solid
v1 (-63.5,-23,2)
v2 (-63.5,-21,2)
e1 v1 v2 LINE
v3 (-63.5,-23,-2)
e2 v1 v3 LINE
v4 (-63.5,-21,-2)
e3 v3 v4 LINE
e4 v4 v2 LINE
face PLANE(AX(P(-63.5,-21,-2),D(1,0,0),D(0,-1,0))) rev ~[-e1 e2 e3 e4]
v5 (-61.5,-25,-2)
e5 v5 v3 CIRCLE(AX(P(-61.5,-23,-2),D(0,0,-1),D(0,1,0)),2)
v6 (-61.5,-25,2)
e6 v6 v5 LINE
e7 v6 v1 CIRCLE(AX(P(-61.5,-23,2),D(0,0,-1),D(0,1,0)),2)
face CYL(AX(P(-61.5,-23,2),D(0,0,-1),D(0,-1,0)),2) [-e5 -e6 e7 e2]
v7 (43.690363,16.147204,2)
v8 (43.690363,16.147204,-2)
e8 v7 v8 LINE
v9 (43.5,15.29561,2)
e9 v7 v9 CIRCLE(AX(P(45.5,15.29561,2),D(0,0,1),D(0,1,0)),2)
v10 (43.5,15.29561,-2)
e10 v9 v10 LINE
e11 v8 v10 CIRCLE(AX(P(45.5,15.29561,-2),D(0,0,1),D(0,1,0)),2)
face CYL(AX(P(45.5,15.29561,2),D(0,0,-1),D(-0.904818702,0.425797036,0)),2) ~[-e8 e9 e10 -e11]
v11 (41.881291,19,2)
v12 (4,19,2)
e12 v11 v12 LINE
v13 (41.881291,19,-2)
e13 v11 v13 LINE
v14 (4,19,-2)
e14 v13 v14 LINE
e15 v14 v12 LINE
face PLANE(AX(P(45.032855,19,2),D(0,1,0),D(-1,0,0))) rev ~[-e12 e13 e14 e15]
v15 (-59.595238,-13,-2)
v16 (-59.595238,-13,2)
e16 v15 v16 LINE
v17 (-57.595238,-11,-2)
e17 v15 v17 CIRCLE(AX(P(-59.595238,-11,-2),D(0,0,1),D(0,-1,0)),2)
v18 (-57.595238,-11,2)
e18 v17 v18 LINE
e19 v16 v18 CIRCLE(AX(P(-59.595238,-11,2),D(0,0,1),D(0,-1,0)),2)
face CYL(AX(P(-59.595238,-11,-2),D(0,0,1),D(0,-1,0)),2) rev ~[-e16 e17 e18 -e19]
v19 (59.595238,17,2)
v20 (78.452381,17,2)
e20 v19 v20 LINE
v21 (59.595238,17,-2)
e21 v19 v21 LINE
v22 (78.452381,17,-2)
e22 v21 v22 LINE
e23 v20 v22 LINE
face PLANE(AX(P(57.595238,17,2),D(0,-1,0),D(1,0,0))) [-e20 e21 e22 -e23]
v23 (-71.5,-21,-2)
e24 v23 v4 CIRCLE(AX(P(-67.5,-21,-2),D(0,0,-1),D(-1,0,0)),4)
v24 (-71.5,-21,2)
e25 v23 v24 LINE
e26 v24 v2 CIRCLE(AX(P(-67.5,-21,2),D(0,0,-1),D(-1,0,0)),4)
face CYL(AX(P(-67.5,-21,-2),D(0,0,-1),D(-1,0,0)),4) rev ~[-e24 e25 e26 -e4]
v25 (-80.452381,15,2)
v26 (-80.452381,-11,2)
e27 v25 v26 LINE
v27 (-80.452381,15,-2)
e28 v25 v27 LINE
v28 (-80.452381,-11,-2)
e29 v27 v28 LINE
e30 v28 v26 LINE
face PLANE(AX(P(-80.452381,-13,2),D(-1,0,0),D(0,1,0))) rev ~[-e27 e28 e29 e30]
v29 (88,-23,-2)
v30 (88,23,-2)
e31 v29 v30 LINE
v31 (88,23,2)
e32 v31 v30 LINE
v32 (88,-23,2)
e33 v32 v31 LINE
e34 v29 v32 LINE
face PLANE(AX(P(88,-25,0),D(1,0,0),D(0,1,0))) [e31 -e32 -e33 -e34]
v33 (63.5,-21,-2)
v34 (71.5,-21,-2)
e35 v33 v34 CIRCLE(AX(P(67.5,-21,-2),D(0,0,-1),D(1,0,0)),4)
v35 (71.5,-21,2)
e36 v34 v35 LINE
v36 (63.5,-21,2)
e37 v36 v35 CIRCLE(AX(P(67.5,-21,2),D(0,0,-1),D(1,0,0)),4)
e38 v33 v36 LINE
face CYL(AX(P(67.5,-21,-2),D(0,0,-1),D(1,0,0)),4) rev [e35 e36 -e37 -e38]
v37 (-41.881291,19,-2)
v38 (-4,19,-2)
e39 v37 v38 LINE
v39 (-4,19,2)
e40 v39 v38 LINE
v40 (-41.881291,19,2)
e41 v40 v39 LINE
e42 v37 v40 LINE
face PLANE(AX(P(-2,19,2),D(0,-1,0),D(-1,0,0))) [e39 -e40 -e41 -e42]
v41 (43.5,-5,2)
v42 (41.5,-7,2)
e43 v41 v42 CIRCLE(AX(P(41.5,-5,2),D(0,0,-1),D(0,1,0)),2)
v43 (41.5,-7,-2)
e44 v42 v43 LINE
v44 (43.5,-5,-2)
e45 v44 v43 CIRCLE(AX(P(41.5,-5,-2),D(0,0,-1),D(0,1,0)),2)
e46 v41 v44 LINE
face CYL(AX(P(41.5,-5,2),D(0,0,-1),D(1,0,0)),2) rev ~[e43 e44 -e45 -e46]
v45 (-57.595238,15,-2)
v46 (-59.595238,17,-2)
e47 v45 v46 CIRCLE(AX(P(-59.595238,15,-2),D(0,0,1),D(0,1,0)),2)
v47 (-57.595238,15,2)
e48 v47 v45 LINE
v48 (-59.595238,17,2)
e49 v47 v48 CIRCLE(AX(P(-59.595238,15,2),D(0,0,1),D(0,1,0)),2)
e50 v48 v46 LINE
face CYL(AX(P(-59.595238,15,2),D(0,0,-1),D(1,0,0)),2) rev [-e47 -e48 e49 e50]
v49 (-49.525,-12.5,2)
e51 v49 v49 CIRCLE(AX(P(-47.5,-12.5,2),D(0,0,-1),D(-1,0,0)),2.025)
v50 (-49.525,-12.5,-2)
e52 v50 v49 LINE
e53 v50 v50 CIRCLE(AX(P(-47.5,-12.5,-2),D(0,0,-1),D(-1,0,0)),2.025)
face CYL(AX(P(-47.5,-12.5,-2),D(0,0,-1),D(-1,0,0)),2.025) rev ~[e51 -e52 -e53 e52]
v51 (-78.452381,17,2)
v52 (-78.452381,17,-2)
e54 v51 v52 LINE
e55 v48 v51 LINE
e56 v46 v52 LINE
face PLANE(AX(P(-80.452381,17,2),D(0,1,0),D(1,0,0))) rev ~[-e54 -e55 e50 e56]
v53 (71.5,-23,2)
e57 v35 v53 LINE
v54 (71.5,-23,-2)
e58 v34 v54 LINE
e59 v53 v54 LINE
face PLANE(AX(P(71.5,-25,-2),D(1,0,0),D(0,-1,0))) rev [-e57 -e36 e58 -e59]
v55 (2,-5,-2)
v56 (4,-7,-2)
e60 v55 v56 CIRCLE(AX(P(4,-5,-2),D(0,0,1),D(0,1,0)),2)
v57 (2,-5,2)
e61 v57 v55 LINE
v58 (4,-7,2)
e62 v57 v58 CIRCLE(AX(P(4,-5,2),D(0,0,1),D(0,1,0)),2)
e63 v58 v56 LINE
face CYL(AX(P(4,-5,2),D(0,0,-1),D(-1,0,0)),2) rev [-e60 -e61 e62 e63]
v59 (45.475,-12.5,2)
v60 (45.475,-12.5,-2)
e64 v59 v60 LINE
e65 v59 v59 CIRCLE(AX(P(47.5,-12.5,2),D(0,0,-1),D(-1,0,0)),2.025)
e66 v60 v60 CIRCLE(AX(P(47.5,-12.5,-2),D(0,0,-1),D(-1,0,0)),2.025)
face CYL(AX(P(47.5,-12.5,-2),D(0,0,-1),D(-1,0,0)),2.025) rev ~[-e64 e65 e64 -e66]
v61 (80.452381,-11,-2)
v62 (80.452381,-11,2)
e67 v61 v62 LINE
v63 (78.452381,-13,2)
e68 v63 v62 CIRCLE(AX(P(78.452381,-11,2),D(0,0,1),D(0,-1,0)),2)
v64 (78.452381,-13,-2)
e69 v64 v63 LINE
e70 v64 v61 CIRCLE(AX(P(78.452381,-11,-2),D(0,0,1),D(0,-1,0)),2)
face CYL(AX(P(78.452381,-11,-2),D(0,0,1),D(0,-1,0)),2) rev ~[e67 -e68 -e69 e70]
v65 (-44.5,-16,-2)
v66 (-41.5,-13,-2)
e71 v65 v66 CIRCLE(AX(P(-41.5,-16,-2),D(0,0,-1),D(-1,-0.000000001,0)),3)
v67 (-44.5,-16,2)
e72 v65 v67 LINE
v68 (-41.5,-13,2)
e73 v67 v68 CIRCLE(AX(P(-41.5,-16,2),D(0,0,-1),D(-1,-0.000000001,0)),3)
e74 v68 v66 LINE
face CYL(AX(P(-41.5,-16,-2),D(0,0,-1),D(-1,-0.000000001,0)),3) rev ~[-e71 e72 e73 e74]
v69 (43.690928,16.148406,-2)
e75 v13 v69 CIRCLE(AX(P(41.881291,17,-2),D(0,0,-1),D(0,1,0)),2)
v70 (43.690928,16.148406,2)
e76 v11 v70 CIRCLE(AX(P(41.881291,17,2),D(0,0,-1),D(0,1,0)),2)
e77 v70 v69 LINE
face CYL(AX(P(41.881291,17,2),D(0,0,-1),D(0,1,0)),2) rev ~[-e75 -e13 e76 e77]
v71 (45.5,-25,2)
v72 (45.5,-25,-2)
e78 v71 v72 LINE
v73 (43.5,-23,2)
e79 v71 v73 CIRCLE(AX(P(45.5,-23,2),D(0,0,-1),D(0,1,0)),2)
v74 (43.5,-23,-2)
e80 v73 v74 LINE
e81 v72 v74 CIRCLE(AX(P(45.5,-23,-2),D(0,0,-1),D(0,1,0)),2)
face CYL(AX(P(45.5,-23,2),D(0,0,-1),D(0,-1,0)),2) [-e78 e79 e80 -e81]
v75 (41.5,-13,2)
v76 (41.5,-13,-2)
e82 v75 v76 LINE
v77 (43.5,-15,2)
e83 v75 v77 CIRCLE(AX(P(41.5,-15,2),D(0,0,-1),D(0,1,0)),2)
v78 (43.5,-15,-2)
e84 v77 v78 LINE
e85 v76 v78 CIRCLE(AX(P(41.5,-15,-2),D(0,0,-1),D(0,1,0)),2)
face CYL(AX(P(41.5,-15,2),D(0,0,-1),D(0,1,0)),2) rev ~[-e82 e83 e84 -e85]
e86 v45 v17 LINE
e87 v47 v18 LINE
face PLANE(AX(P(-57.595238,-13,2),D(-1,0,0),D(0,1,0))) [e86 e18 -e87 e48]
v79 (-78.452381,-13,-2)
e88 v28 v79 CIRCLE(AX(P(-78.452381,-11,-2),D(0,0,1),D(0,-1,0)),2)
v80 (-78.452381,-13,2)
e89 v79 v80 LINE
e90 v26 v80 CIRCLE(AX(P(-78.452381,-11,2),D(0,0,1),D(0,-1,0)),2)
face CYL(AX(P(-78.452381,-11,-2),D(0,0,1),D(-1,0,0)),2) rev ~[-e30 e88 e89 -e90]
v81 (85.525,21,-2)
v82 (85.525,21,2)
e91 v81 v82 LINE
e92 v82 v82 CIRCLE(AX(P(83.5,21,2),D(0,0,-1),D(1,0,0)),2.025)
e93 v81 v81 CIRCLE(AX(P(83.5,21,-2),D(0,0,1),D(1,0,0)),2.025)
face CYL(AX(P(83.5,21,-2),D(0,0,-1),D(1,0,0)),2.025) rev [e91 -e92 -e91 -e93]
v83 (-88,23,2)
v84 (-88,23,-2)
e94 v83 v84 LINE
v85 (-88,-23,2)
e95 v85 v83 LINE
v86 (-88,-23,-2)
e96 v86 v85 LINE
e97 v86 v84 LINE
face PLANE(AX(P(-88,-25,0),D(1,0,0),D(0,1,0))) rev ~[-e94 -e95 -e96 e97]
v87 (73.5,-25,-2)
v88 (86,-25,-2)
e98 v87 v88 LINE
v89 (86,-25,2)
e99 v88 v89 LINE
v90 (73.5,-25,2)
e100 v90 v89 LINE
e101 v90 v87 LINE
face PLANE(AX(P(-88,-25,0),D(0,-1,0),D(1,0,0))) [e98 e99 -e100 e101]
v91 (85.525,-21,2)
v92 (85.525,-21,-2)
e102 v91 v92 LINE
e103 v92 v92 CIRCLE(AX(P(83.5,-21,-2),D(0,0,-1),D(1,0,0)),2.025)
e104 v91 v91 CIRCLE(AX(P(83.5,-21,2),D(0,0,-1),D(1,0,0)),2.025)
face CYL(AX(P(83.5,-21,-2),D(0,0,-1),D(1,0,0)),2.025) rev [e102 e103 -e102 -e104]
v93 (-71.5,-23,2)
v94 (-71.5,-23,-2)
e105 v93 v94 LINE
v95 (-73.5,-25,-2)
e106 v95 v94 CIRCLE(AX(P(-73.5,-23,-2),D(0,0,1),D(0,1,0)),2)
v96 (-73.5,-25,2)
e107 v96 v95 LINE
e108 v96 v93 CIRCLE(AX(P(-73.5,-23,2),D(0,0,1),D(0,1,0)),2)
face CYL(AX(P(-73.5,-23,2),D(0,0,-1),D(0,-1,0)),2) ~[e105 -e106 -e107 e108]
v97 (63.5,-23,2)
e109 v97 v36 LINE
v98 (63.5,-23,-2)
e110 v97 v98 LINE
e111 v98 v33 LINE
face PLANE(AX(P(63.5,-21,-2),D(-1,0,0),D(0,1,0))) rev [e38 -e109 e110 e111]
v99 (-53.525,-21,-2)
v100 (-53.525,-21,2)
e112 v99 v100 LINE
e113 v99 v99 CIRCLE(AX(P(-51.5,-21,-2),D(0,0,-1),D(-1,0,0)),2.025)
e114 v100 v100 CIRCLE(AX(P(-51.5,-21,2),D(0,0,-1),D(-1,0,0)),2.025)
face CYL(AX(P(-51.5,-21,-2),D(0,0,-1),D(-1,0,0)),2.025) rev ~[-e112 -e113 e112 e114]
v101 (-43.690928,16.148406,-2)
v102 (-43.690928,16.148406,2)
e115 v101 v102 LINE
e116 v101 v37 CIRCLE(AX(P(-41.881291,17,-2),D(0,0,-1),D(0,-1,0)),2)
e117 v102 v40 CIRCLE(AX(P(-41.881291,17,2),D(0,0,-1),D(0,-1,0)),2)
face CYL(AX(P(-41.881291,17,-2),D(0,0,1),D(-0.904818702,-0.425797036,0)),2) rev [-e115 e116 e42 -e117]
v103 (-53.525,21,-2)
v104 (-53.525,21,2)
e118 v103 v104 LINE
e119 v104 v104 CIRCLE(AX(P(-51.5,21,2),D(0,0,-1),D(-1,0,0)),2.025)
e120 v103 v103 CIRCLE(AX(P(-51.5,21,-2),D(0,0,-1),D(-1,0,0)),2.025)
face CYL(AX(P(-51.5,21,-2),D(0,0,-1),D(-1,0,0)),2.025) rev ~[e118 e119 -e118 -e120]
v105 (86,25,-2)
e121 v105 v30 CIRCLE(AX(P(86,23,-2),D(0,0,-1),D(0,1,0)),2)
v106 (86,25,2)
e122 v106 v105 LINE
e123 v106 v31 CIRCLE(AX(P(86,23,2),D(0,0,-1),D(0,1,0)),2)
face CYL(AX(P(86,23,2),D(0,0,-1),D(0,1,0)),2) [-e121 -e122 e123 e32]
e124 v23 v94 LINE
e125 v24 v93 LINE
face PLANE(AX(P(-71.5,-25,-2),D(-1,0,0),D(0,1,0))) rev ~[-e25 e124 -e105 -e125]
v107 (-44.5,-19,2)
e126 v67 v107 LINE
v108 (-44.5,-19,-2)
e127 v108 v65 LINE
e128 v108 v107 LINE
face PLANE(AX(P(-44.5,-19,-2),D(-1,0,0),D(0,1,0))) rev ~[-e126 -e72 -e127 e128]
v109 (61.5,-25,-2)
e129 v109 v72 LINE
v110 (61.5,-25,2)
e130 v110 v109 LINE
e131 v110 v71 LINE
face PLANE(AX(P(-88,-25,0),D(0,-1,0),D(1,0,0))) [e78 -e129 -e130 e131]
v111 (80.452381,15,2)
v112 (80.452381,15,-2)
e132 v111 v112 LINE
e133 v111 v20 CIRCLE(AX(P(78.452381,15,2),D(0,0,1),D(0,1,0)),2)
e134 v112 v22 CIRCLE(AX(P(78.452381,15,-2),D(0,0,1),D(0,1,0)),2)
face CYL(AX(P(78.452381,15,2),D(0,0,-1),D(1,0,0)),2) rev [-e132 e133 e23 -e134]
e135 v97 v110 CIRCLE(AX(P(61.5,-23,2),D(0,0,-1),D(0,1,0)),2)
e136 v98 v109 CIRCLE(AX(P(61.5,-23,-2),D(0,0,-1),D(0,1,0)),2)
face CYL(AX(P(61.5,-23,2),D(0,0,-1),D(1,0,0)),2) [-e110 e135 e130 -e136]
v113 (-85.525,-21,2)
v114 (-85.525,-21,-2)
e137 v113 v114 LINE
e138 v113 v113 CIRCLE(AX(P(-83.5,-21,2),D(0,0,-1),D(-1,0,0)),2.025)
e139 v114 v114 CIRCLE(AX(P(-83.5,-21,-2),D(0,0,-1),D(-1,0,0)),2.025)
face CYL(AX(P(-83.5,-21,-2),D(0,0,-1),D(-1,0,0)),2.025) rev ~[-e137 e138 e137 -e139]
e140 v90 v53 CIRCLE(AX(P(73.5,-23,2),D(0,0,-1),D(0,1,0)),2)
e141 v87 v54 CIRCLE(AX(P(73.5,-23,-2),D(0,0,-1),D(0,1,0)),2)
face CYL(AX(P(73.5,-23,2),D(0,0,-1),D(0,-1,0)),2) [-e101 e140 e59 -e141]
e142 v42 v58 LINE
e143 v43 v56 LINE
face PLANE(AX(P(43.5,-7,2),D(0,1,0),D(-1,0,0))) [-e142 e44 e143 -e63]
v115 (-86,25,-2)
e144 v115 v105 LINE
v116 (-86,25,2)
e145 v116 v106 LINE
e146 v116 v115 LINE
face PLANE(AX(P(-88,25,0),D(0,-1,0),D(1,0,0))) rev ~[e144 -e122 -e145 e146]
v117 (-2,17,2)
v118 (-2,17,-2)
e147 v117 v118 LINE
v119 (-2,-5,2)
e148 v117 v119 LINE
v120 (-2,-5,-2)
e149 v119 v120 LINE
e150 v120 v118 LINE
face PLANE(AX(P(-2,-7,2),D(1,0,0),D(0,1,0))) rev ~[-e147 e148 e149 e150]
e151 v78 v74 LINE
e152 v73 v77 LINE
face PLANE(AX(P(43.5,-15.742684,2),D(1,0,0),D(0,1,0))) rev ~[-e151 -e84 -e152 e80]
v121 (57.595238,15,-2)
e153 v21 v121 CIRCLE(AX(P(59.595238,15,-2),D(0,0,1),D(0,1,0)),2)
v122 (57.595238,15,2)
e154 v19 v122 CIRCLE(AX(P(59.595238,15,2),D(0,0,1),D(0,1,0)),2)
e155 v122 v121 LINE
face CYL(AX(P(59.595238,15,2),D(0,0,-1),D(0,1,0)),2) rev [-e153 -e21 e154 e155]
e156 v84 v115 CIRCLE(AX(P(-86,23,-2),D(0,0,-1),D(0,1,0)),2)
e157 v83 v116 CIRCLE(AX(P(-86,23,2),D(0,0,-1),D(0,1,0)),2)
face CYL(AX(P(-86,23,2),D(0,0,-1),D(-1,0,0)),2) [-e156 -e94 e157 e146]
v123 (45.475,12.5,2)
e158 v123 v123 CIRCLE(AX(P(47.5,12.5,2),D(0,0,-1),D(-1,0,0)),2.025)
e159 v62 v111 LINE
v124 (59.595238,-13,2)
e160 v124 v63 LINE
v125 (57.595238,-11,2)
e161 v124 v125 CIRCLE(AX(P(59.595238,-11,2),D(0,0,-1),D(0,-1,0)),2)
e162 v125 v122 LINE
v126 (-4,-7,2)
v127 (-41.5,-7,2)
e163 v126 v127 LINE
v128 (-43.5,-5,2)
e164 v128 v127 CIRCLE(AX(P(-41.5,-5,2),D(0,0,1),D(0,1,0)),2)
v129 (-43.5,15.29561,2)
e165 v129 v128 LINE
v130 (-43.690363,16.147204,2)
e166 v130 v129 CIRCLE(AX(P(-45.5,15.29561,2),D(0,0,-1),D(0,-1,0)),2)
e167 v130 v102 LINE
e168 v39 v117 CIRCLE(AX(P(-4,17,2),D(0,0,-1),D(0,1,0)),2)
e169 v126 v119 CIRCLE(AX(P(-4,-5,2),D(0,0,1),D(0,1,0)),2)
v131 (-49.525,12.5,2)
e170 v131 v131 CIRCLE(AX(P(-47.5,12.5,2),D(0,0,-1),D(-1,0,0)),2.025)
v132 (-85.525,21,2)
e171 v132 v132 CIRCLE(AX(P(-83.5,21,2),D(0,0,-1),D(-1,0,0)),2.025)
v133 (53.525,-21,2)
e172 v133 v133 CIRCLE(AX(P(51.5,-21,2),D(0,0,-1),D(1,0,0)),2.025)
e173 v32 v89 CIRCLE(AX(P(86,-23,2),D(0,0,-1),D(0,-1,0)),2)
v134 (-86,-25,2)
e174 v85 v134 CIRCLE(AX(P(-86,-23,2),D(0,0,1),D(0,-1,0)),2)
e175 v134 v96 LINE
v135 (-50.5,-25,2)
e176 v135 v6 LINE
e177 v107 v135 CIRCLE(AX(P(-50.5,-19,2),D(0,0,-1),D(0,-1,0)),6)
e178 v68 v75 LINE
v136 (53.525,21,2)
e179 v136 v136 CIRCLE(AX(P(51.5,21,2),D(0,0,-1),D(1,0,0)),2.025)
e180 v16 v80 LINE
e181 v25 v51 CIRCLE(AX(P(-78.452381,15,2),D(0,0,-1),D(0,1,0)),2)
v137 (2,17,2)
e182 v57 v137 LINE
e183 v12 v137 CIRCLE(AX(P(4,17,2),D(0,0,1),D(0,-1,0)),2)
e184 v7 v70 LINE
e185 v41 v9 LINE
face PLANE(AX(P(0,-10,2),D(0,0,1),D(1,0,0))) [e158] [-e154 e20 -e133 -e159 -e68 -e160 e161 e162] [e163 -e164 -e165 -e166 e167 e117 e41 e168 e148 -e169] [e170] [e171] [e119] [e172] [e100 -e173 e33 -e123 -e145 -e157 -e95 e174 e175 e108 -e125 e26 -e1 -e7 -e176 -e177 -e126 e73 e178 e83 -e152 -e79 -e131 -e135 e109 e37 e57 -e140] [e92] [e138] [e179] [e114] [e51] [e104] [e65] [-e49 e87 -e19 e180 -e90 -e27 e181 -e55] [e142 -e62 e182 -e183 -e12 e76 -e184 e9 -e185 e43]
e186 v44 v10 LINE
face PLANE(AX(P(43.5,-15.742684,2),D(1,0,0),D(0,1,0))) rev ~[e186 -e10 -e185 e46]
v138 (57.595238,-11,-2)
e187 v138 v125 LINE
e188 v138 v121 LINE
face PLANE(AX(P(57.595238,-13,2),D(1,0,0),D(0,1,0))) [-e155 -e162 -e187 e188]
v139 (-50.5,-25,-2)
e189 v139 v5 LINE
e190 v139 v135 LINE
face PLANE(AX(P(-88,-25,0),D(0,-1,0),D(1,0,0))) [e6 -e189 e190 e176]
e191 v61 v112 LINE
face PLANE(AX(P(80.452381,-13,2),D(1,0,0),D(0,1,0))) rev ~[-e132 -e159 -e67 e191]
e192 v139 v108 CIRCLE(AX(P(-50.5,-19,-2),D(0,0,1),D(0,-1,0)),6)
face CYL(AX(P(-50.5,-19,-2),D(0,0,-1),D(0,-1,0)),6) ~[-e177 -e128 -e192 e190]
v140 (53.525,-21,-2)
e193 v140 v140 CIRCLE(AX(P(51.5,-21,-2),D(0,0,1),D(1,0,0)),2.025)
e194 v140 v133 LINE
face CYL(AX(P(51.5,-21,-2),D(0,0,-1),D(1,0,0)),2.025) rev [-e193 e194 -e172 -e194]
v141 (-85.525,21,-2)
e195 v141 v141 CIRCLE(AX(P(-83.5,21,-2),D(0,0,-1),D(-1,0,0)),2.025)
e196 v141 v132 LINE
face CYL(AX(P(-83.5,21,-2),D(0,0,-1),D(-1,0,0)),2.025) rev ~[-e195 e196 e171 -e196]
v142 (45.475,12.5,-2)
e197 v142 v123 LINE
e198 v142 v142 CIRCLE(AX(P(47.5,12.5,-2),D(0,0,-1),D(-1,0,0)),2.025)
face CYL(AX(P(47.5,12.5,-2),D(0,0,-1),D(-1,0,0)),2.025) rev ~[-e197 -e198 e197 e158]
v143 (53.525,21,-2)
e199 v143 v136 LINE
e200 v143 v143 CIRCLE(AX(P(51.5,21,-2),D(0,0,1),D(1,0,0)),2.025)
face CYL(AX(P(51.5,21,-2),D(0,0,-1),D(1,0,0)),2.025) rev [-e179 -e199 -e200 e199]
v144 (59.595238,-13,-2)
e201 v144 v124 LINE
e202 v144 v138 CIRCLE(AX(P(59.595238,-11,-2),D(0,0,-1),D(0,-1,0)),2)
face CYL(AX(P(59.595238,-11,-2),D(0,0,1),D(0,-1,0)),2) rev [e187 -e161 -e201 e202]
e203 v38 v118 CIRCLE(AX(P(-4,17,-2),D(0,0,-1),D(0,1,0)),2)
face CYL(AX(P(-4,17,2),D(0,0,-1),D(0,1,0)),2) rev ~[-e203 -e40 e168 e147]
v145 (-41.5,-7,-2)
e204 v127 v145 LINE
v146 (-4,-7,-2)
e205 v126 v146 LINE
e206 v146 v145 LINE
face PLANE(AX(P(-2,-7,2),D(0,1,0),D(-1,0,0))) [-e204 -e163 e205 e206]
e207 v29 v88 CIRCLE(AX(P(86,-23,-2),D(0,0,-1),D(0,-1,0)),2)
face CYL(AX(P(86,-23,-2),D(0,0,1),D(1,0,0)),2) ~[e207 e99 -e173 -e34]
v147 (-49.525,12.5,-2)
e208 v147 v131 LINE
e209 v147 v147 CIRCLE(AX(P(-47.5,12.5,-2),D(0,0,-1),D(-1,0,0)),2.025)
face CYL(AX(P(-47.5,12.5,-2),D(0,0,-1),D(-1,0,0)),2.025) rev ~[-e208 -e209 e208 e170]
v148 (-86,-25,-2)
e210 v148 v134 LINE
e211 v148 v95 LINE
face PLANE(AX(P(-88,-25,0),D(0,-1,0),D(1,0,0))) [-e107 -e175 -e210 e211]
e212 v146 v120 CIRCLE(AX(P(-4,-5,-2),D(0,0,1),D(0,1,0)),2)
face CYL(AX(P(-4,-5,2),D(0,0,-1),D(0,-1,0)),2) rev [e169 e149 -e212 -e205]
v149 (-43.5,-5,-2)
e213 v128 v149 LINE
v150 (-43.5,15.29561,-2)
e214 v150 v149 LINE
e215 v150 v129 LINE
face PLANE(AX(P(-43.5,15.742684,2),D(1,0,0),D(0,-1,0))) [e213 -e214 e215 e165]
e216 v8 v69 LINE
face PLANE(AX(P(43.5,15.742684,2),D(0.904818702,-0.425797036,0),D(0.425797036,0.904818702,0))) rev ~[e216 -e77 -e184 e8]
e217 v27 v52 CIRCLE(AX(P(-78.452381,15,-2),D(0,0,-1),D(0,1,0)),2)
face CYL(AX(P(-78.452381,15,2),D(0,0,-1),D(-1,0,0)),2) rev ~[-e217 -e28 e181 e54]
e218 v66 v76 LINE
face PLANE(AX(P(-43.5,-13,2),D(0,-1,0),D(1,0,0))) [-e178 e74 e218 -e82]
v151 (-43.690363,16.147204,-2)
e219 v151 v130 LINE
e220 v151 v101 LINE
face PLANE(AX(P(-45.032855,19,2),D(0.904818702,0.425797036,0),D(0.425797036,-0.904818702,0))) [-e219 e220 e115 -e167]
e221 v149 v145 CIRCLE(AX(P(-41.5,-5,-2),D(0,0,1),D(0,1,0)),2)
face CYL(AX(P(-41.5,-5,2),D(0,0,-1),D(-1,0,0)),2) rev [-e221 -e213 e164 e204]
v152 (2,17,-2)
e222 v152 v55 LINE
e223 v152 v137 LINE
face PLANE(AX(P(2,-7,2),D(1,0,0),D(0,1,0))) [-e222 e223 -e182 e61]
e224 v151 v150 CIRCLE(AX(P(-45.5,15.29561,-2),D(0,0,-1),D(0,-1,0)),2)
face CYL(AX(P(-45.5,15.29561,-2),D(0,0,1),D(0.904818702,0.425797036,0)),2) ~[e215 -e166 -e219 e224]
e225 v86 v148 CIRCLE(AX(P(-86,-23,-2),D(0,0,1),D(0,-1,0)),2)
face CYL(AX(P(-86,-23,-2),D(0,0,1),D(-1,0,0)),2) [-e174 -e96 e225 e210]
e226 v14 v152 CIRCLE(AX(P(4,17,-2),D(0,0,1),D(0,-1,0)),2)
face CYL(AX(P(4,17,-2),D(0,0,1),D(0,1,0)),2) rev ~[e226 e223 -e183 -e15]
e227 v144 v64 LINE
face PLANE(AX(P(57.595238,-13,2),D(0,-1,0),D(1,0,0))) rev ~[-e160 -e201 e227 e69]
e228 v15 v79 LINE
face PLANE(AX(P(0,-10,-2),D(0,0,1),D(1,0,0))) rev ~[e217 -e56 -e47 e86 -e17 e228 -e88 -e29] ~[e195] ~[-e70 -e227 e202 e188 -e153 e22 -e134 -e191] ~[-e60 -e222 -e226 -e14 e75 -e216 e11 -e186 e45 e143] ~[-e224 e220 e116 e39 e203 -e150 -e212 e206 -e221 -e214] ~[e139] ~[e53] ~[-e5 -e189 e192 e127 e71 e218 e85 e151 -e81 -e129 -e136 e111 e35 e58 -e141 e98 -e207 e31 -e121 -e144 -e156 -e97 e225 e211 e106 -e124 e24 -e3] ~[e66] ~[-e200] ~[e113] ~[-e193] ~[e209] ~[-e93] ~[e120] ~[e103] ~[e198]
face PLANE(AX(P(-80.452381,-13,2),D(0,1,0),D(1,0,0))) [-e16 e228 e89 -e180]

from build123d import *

# Parameters (mm, degrees)
SKETCH_1_W           = 176
SKETCH_1_H           = 50
EXTRUDE_1_DEPTH      = 2
SKETCH_2_R           = 2.025
CUT_EXTRUDE_1_DEPTH  = 22
CUT_EXTRUDE_2_DEPTH  = 17
FILLET_1_R           = 2
SKETCH_4_R           = 2.025
CUT_EXTRUDE_3_DEPTH  = 5
CUT_EXTRUDE_5_DEPTH  = 15.5
SKETCH_8_W           = 22.857142857
SKETCH_8_H           = 30
CUT_EXTRUDE_6_DEPTH  = 15.5
FILLET_2_R           = 2
SKETCH_22_W          = 54
SKETCH_22_H          = 23
CUT_EXTRUDE_14_DEPTH = 10
EXTRUDE_8_DEPTH      = 4
CHAMFER_1_SIZE       = 10
CHAMFER_2_SIZE       = 10
FILLET_9_R           = 2
SKETCH_24_W          = 87
SKETCH_24_H          = 30
CUT_EXTRUDE_15_DEPTH = 10
SKETCH_25_W          = 4
SKETCH_25_H          = 12
EXTRUDE_9_DEPTH      = 4
FILLET_10_R          = 2
CUT_EXTRUDE_16_DEPTH = 10


with BuildPart() as part:
    # 草图1 → 凸台-拉伸1 (new, symmetric)
    with BuildSketch(Plane.XY):
        Rectangle(SKETCH_1_W, SKETCH_1_H)
    extrude(amount=EXTRUDE_1_DEPTH, both=True)

    # 草图2 → 切除-拉伸1 (cut, symmetric)
    with BuildSketch(Plane(origin=(0, 0, -2), x_dir=(-1, 0, 0), z_dir=(0, 0, -1))):
        with Locations((51.5, 21)):
            Circle(SKETCH_2_R)
        with Locations((51.5, -21)):
            Circle(SKETCH_2_R)
        with Locations((83.5, 21)):
            Circle(SKETCH_2_R)
        with Locations((83.5, -21)):
            Circle(SKETCH_2_R)
    cut_extrude_1 = extrude(amount=CUT_EXTRUDE_1_DEPTH, both=True, mode=Mode.SUBTRACT)

    # 镜向1: 切除-拉伸1 across plane
    add(cut_extrude_1.mirror(Plane(origin=(0, 0, 0), x_dir=(0, 0, 1), z_dir=(1, 0, 0))), mode=Mode.SUBTRACT)

    # 草图3 → 切除-拉伸2 (cut, symmetric)
    with BuildSketch(Plane(origin=(0, 0, -2), x_dir=(-1, 0, 0), z_dir=(0, 0, -1))):
        with BuildLine():
            Line((63.5, -21), (63.5, -25))
            Line((63.5, -25), (71.5, -25))
            Line((71.5, -25), (71.5, -21))
            ThreePointArc((71.5, -21), (67.5, -17), (63.5, -21))
        make_face()
    cut_extrude_2 = extrude(amount=CUT_EXTRUDE_2_DEPTH, both=True, mode=Mode.SUBTRACT)

    # 镜向2: 切除-拉伸2 across plane
    add(cut_extrude_2.mirror(Plane(origin=(0, 0, 0), x_dir=(0, 0, 1), z_dir=(1, 0, 0))), mode=Mode.SUBTRACT)

    # 圆角1
    fillet_1_edges = [part.edges().sort_by_distance(p)[0] for p in [
        (-71.5, -25, 0),
        (-63.5, -25, 0),
        (88, -25, 0),
        (-88, -25, 0),
        (-88, 25, 0),
        (88, 25, 0),
        (63.5, -25, 0),
        (71.5, -25, 0),
    ]]
    fillet(fillet_1_edges, radius=FILLET_1_R)

    # 草图4 → 切除-拉伸3 (cut, symmetric)
    with BuildSketch(Plane(origin=(0, 0, -2), x_dir=(-1, 0, 0), z_dir=(0, 0, -1))):
        with Locations((47.5, -12.5)):
            Circle(SKETCH_4_R)
        with Locations((47.5, 12.5)):
            Circle(SKETCH_4_R)
        with Locations((-47.5, 12.5)):
            Circle(SKETCH_4_R)
        with Locations((-47.5, -12.5)):
            Circle(SKETCH_4_R)
    extrude(amount=CUT_EXTRUDE_3_DEPTH, both=True, mode=Mode.SUBTRACT)

    # 草图7 → 切除-拉伸5 (cut, symmetric)
    with BuildSketch(Plane.XY.offset(2)):
        Polygon((-2, 19), (-45.032854639, 19), (-43.5, 15.742683893), (-43.5, -15.742683893), (-45.032854639, -19), (-2, -19), align=None)
        Polygon((45.032854639, 19), (2, 19), (2, -19), (45.032854639, -19), (43.5, -15.742683893), (43.5, 15.742683893), align=None)
    extrude(amount=CUT_EXTRUDE_5_DEPTH, both=True, mode=Mode.SUBTRACT)

    # 草图8 → 切除-拉伸6 (cut, symmetric)
    with BuildSketch(Plane.XY.offset(2)):
        with Locations((-69.023809524, 2)):
            Rectangle(SKETCH_8_W, SKETCH_8_H)
        with Locations((69.023809524, 2)):
            Rectangle(SKETCH_8_W, SKETCH_8_H)
    extrude(amount=CUT_EXTRUDE_6_DEPTH, both=True, mode=Mode.SUBTRACT)

    # 圆角2
    fillet_2_edges = [part.edges().sort_by_distance(p)[0] for p in [
        (-2, 19, 0),
        (-2, -19, 0),
        (-45.032854639, -19, 0),
        (-43.5, -15.742683893, 0),
        (-43.5, 15.742683893, 0),
        (-45.032854639, 19, 0),
        (2, 19, 0),
        (45.032854639, 19, 0),
        (43.5, 15.742683893, 0),
        (43.5, -15.742683893, 0),
        (45.032854639, -19, 0),
        (2, -19, 0),
        (-80.452380952, -13, 0),
        (-80.452380952, 17, 0),
        (-57.595238095, 17, 0),
        (-57.595238095, -13, 0),
        (80.452380952, 17, 0),
        (80.452380952, -13, 0),
        (57.595238095, -13, 0),
        (57.595238095, 17, 0),
    ]]
    fillet(fillet_2_edges, radius=FILLET_2_R)

    # 草图22 → 切除-拉伸14 (cut)
    with BuildSketch(Plane(origin=(0, 0, -2), x_dir=(-1, 0, 0), z_dir=(0, 0, -1))):
        with Locations((0, -13.5)):
            Rectangle(SKETCH_22_W, SKETCH_22_H)
    extrude(amount=-CUT_EXTRUDE_14_DEPTH, mode=Mode.SUBTRACT)

    # 草图23 → 凸台-拉伸8 (add)
    with BuildSketch(Plane(origin=(0, 0, -2), x_dir=(-1, 0, 0), z_dir=(0, 0, -1))):
        Polygon((-31, -25), (-27, -25), (-27, -2), (27, -2), (27, -25), (31, -25), (31, 2), (-31, 2), align=None)
    extrude(amount=-EXTRUDE_8_DEPTH)

    # 倒角1
    chamfer_1_edges = [part.edges().sort_by_distance(p)[0] for p in [
        (27, -2, 0),
        (-27, -2, 0),
    ]]
    chamfer(chamfer_1_edges, length=CHAMFER_1_SIZE)

    # 倒角2
    chamfer_2_edges = [part.edges().sort_by_distance(p)[0] for p in [
        (31, 2, 0),
        (-31, 2, 0),
    ]]
    chamfer(chamfer_2_edges, length=CHAMFER_2_SIZE)

    # 圆角9
    fillet_9_edges = [part.edges().sort_by_distance(p)[0] for p in [
        (-27, -25, 0),
        (27, -25, 0),
        (-31, -19, 0),
        (-2, 2, 0),
        (31, -19, 0),
        (2, 2, 0),
        (21, 2, 0),
        (31, -8, 0),
        (-31, -8, 0),
        (-21, 2, 0),
    ]]
    fillet(fillet_9_edges, radius=FILLET_9_R)

    # 草图24 → 切除-拉伸15 (cut)
    with BuildSketch(Plane.XY.offset(2)):
        with Locations((0, -10)):
            Rectangle(SKETCH_24_W, SKETCH_24_H)
    extrude(amount=-CUT_EXTRUDE_15_DEPTH, mode=Mode.SUBTRACT)

    # 草图25 → 凸台-拉伸9 (add)
    with BuildSketch(Plane.XY.offset(2)):
        Polygon((2, -7), (-2, -7), (-43.5, -7), (-43.5, -13), (43.5, -13), (43.5, -7), align=None)
        with Locations((0, -1)):
            Rectangle(SKETCH_25_W, SKETCH_25_H)
        with BuildLine():
            Line((-43.5, -18.174640335), (-43.5, -15.295610336))
            ThreePointArc((-43.5, -15.295610336), (-43.548170754, -15.731915957), (-43.690362596, -16.147204408))
            Line((-43.690362596, -16.147204408), (-43.690928016, -16.148405927))
            ThreePointArc((-43.690928016, -16.148405927), (-43.872470388, -17.187624889), (-43.5, -18.174640335))
        make_face()
        with BuildLine():
            ThreePointArc((43.690362596, -16.147204408), (43.548170754, -15.731915957), (43.5, -15.295610336))
            Line((43.5, -15.295610336), (43.5, -18.174640335))
            ThreePointArc((43.5, -18.174640335), (43.872470388, -17.187624889), (43.690928016, -16.148405927))
            Line((43.690928016, -16.148405927), (43.690362596, -16.147204408))
        make_face()
    extrude(amount=-EXTRUDE_9_DEPTH)

    # 圆角10
    fillet_10_edges = [part.edges().sort_by_distance(p)[0] for p in [
        (-43.5, -25, 0),
        (43.5, -25, 0),
        (43.5, -7, 0),
        (43.5, -13, 0),
        (-43.5, -13, 0),
        (-43.5, -7, 0),
        (-2, -7, 0),
        (2, -7, 0),
    ]]
    fillet(fillet_10_edges, radius=FILLET_10_R)

    # 草图26 → 切除-拉伸16 (cut)
    with BuildSketch(Plane(origin=(0, 0, -2), x_dir=(-1, 0, 0), z_dir=(0, 0, -1))):
        with BuildLine():
            Line((44.5, -19), (44.5, -16))
            ThreePointArc((44.5, -16), (43.621320344, -13.878679656), (41.5, -13))
            ThreePointArc((41.5, -13), (42.914213562, -13.585786438), (43.5, -15))
            Line((43.5, -15), (43.5, -23))
            ThreePointArc((43.5, -23), (44.085786438, -24.414213562), (45.5, -25))
            Line((45.5, -25), (50.5, -25))
            ThreePointArc((50.5, -25), (46.257359313, -23.242640687), (44.5, -19))
        make_face()
    extrude(amount=-CUT_EXTRUDE_16_DEPTH, mode=Mode.SUBTRACT)


solid = part.part
